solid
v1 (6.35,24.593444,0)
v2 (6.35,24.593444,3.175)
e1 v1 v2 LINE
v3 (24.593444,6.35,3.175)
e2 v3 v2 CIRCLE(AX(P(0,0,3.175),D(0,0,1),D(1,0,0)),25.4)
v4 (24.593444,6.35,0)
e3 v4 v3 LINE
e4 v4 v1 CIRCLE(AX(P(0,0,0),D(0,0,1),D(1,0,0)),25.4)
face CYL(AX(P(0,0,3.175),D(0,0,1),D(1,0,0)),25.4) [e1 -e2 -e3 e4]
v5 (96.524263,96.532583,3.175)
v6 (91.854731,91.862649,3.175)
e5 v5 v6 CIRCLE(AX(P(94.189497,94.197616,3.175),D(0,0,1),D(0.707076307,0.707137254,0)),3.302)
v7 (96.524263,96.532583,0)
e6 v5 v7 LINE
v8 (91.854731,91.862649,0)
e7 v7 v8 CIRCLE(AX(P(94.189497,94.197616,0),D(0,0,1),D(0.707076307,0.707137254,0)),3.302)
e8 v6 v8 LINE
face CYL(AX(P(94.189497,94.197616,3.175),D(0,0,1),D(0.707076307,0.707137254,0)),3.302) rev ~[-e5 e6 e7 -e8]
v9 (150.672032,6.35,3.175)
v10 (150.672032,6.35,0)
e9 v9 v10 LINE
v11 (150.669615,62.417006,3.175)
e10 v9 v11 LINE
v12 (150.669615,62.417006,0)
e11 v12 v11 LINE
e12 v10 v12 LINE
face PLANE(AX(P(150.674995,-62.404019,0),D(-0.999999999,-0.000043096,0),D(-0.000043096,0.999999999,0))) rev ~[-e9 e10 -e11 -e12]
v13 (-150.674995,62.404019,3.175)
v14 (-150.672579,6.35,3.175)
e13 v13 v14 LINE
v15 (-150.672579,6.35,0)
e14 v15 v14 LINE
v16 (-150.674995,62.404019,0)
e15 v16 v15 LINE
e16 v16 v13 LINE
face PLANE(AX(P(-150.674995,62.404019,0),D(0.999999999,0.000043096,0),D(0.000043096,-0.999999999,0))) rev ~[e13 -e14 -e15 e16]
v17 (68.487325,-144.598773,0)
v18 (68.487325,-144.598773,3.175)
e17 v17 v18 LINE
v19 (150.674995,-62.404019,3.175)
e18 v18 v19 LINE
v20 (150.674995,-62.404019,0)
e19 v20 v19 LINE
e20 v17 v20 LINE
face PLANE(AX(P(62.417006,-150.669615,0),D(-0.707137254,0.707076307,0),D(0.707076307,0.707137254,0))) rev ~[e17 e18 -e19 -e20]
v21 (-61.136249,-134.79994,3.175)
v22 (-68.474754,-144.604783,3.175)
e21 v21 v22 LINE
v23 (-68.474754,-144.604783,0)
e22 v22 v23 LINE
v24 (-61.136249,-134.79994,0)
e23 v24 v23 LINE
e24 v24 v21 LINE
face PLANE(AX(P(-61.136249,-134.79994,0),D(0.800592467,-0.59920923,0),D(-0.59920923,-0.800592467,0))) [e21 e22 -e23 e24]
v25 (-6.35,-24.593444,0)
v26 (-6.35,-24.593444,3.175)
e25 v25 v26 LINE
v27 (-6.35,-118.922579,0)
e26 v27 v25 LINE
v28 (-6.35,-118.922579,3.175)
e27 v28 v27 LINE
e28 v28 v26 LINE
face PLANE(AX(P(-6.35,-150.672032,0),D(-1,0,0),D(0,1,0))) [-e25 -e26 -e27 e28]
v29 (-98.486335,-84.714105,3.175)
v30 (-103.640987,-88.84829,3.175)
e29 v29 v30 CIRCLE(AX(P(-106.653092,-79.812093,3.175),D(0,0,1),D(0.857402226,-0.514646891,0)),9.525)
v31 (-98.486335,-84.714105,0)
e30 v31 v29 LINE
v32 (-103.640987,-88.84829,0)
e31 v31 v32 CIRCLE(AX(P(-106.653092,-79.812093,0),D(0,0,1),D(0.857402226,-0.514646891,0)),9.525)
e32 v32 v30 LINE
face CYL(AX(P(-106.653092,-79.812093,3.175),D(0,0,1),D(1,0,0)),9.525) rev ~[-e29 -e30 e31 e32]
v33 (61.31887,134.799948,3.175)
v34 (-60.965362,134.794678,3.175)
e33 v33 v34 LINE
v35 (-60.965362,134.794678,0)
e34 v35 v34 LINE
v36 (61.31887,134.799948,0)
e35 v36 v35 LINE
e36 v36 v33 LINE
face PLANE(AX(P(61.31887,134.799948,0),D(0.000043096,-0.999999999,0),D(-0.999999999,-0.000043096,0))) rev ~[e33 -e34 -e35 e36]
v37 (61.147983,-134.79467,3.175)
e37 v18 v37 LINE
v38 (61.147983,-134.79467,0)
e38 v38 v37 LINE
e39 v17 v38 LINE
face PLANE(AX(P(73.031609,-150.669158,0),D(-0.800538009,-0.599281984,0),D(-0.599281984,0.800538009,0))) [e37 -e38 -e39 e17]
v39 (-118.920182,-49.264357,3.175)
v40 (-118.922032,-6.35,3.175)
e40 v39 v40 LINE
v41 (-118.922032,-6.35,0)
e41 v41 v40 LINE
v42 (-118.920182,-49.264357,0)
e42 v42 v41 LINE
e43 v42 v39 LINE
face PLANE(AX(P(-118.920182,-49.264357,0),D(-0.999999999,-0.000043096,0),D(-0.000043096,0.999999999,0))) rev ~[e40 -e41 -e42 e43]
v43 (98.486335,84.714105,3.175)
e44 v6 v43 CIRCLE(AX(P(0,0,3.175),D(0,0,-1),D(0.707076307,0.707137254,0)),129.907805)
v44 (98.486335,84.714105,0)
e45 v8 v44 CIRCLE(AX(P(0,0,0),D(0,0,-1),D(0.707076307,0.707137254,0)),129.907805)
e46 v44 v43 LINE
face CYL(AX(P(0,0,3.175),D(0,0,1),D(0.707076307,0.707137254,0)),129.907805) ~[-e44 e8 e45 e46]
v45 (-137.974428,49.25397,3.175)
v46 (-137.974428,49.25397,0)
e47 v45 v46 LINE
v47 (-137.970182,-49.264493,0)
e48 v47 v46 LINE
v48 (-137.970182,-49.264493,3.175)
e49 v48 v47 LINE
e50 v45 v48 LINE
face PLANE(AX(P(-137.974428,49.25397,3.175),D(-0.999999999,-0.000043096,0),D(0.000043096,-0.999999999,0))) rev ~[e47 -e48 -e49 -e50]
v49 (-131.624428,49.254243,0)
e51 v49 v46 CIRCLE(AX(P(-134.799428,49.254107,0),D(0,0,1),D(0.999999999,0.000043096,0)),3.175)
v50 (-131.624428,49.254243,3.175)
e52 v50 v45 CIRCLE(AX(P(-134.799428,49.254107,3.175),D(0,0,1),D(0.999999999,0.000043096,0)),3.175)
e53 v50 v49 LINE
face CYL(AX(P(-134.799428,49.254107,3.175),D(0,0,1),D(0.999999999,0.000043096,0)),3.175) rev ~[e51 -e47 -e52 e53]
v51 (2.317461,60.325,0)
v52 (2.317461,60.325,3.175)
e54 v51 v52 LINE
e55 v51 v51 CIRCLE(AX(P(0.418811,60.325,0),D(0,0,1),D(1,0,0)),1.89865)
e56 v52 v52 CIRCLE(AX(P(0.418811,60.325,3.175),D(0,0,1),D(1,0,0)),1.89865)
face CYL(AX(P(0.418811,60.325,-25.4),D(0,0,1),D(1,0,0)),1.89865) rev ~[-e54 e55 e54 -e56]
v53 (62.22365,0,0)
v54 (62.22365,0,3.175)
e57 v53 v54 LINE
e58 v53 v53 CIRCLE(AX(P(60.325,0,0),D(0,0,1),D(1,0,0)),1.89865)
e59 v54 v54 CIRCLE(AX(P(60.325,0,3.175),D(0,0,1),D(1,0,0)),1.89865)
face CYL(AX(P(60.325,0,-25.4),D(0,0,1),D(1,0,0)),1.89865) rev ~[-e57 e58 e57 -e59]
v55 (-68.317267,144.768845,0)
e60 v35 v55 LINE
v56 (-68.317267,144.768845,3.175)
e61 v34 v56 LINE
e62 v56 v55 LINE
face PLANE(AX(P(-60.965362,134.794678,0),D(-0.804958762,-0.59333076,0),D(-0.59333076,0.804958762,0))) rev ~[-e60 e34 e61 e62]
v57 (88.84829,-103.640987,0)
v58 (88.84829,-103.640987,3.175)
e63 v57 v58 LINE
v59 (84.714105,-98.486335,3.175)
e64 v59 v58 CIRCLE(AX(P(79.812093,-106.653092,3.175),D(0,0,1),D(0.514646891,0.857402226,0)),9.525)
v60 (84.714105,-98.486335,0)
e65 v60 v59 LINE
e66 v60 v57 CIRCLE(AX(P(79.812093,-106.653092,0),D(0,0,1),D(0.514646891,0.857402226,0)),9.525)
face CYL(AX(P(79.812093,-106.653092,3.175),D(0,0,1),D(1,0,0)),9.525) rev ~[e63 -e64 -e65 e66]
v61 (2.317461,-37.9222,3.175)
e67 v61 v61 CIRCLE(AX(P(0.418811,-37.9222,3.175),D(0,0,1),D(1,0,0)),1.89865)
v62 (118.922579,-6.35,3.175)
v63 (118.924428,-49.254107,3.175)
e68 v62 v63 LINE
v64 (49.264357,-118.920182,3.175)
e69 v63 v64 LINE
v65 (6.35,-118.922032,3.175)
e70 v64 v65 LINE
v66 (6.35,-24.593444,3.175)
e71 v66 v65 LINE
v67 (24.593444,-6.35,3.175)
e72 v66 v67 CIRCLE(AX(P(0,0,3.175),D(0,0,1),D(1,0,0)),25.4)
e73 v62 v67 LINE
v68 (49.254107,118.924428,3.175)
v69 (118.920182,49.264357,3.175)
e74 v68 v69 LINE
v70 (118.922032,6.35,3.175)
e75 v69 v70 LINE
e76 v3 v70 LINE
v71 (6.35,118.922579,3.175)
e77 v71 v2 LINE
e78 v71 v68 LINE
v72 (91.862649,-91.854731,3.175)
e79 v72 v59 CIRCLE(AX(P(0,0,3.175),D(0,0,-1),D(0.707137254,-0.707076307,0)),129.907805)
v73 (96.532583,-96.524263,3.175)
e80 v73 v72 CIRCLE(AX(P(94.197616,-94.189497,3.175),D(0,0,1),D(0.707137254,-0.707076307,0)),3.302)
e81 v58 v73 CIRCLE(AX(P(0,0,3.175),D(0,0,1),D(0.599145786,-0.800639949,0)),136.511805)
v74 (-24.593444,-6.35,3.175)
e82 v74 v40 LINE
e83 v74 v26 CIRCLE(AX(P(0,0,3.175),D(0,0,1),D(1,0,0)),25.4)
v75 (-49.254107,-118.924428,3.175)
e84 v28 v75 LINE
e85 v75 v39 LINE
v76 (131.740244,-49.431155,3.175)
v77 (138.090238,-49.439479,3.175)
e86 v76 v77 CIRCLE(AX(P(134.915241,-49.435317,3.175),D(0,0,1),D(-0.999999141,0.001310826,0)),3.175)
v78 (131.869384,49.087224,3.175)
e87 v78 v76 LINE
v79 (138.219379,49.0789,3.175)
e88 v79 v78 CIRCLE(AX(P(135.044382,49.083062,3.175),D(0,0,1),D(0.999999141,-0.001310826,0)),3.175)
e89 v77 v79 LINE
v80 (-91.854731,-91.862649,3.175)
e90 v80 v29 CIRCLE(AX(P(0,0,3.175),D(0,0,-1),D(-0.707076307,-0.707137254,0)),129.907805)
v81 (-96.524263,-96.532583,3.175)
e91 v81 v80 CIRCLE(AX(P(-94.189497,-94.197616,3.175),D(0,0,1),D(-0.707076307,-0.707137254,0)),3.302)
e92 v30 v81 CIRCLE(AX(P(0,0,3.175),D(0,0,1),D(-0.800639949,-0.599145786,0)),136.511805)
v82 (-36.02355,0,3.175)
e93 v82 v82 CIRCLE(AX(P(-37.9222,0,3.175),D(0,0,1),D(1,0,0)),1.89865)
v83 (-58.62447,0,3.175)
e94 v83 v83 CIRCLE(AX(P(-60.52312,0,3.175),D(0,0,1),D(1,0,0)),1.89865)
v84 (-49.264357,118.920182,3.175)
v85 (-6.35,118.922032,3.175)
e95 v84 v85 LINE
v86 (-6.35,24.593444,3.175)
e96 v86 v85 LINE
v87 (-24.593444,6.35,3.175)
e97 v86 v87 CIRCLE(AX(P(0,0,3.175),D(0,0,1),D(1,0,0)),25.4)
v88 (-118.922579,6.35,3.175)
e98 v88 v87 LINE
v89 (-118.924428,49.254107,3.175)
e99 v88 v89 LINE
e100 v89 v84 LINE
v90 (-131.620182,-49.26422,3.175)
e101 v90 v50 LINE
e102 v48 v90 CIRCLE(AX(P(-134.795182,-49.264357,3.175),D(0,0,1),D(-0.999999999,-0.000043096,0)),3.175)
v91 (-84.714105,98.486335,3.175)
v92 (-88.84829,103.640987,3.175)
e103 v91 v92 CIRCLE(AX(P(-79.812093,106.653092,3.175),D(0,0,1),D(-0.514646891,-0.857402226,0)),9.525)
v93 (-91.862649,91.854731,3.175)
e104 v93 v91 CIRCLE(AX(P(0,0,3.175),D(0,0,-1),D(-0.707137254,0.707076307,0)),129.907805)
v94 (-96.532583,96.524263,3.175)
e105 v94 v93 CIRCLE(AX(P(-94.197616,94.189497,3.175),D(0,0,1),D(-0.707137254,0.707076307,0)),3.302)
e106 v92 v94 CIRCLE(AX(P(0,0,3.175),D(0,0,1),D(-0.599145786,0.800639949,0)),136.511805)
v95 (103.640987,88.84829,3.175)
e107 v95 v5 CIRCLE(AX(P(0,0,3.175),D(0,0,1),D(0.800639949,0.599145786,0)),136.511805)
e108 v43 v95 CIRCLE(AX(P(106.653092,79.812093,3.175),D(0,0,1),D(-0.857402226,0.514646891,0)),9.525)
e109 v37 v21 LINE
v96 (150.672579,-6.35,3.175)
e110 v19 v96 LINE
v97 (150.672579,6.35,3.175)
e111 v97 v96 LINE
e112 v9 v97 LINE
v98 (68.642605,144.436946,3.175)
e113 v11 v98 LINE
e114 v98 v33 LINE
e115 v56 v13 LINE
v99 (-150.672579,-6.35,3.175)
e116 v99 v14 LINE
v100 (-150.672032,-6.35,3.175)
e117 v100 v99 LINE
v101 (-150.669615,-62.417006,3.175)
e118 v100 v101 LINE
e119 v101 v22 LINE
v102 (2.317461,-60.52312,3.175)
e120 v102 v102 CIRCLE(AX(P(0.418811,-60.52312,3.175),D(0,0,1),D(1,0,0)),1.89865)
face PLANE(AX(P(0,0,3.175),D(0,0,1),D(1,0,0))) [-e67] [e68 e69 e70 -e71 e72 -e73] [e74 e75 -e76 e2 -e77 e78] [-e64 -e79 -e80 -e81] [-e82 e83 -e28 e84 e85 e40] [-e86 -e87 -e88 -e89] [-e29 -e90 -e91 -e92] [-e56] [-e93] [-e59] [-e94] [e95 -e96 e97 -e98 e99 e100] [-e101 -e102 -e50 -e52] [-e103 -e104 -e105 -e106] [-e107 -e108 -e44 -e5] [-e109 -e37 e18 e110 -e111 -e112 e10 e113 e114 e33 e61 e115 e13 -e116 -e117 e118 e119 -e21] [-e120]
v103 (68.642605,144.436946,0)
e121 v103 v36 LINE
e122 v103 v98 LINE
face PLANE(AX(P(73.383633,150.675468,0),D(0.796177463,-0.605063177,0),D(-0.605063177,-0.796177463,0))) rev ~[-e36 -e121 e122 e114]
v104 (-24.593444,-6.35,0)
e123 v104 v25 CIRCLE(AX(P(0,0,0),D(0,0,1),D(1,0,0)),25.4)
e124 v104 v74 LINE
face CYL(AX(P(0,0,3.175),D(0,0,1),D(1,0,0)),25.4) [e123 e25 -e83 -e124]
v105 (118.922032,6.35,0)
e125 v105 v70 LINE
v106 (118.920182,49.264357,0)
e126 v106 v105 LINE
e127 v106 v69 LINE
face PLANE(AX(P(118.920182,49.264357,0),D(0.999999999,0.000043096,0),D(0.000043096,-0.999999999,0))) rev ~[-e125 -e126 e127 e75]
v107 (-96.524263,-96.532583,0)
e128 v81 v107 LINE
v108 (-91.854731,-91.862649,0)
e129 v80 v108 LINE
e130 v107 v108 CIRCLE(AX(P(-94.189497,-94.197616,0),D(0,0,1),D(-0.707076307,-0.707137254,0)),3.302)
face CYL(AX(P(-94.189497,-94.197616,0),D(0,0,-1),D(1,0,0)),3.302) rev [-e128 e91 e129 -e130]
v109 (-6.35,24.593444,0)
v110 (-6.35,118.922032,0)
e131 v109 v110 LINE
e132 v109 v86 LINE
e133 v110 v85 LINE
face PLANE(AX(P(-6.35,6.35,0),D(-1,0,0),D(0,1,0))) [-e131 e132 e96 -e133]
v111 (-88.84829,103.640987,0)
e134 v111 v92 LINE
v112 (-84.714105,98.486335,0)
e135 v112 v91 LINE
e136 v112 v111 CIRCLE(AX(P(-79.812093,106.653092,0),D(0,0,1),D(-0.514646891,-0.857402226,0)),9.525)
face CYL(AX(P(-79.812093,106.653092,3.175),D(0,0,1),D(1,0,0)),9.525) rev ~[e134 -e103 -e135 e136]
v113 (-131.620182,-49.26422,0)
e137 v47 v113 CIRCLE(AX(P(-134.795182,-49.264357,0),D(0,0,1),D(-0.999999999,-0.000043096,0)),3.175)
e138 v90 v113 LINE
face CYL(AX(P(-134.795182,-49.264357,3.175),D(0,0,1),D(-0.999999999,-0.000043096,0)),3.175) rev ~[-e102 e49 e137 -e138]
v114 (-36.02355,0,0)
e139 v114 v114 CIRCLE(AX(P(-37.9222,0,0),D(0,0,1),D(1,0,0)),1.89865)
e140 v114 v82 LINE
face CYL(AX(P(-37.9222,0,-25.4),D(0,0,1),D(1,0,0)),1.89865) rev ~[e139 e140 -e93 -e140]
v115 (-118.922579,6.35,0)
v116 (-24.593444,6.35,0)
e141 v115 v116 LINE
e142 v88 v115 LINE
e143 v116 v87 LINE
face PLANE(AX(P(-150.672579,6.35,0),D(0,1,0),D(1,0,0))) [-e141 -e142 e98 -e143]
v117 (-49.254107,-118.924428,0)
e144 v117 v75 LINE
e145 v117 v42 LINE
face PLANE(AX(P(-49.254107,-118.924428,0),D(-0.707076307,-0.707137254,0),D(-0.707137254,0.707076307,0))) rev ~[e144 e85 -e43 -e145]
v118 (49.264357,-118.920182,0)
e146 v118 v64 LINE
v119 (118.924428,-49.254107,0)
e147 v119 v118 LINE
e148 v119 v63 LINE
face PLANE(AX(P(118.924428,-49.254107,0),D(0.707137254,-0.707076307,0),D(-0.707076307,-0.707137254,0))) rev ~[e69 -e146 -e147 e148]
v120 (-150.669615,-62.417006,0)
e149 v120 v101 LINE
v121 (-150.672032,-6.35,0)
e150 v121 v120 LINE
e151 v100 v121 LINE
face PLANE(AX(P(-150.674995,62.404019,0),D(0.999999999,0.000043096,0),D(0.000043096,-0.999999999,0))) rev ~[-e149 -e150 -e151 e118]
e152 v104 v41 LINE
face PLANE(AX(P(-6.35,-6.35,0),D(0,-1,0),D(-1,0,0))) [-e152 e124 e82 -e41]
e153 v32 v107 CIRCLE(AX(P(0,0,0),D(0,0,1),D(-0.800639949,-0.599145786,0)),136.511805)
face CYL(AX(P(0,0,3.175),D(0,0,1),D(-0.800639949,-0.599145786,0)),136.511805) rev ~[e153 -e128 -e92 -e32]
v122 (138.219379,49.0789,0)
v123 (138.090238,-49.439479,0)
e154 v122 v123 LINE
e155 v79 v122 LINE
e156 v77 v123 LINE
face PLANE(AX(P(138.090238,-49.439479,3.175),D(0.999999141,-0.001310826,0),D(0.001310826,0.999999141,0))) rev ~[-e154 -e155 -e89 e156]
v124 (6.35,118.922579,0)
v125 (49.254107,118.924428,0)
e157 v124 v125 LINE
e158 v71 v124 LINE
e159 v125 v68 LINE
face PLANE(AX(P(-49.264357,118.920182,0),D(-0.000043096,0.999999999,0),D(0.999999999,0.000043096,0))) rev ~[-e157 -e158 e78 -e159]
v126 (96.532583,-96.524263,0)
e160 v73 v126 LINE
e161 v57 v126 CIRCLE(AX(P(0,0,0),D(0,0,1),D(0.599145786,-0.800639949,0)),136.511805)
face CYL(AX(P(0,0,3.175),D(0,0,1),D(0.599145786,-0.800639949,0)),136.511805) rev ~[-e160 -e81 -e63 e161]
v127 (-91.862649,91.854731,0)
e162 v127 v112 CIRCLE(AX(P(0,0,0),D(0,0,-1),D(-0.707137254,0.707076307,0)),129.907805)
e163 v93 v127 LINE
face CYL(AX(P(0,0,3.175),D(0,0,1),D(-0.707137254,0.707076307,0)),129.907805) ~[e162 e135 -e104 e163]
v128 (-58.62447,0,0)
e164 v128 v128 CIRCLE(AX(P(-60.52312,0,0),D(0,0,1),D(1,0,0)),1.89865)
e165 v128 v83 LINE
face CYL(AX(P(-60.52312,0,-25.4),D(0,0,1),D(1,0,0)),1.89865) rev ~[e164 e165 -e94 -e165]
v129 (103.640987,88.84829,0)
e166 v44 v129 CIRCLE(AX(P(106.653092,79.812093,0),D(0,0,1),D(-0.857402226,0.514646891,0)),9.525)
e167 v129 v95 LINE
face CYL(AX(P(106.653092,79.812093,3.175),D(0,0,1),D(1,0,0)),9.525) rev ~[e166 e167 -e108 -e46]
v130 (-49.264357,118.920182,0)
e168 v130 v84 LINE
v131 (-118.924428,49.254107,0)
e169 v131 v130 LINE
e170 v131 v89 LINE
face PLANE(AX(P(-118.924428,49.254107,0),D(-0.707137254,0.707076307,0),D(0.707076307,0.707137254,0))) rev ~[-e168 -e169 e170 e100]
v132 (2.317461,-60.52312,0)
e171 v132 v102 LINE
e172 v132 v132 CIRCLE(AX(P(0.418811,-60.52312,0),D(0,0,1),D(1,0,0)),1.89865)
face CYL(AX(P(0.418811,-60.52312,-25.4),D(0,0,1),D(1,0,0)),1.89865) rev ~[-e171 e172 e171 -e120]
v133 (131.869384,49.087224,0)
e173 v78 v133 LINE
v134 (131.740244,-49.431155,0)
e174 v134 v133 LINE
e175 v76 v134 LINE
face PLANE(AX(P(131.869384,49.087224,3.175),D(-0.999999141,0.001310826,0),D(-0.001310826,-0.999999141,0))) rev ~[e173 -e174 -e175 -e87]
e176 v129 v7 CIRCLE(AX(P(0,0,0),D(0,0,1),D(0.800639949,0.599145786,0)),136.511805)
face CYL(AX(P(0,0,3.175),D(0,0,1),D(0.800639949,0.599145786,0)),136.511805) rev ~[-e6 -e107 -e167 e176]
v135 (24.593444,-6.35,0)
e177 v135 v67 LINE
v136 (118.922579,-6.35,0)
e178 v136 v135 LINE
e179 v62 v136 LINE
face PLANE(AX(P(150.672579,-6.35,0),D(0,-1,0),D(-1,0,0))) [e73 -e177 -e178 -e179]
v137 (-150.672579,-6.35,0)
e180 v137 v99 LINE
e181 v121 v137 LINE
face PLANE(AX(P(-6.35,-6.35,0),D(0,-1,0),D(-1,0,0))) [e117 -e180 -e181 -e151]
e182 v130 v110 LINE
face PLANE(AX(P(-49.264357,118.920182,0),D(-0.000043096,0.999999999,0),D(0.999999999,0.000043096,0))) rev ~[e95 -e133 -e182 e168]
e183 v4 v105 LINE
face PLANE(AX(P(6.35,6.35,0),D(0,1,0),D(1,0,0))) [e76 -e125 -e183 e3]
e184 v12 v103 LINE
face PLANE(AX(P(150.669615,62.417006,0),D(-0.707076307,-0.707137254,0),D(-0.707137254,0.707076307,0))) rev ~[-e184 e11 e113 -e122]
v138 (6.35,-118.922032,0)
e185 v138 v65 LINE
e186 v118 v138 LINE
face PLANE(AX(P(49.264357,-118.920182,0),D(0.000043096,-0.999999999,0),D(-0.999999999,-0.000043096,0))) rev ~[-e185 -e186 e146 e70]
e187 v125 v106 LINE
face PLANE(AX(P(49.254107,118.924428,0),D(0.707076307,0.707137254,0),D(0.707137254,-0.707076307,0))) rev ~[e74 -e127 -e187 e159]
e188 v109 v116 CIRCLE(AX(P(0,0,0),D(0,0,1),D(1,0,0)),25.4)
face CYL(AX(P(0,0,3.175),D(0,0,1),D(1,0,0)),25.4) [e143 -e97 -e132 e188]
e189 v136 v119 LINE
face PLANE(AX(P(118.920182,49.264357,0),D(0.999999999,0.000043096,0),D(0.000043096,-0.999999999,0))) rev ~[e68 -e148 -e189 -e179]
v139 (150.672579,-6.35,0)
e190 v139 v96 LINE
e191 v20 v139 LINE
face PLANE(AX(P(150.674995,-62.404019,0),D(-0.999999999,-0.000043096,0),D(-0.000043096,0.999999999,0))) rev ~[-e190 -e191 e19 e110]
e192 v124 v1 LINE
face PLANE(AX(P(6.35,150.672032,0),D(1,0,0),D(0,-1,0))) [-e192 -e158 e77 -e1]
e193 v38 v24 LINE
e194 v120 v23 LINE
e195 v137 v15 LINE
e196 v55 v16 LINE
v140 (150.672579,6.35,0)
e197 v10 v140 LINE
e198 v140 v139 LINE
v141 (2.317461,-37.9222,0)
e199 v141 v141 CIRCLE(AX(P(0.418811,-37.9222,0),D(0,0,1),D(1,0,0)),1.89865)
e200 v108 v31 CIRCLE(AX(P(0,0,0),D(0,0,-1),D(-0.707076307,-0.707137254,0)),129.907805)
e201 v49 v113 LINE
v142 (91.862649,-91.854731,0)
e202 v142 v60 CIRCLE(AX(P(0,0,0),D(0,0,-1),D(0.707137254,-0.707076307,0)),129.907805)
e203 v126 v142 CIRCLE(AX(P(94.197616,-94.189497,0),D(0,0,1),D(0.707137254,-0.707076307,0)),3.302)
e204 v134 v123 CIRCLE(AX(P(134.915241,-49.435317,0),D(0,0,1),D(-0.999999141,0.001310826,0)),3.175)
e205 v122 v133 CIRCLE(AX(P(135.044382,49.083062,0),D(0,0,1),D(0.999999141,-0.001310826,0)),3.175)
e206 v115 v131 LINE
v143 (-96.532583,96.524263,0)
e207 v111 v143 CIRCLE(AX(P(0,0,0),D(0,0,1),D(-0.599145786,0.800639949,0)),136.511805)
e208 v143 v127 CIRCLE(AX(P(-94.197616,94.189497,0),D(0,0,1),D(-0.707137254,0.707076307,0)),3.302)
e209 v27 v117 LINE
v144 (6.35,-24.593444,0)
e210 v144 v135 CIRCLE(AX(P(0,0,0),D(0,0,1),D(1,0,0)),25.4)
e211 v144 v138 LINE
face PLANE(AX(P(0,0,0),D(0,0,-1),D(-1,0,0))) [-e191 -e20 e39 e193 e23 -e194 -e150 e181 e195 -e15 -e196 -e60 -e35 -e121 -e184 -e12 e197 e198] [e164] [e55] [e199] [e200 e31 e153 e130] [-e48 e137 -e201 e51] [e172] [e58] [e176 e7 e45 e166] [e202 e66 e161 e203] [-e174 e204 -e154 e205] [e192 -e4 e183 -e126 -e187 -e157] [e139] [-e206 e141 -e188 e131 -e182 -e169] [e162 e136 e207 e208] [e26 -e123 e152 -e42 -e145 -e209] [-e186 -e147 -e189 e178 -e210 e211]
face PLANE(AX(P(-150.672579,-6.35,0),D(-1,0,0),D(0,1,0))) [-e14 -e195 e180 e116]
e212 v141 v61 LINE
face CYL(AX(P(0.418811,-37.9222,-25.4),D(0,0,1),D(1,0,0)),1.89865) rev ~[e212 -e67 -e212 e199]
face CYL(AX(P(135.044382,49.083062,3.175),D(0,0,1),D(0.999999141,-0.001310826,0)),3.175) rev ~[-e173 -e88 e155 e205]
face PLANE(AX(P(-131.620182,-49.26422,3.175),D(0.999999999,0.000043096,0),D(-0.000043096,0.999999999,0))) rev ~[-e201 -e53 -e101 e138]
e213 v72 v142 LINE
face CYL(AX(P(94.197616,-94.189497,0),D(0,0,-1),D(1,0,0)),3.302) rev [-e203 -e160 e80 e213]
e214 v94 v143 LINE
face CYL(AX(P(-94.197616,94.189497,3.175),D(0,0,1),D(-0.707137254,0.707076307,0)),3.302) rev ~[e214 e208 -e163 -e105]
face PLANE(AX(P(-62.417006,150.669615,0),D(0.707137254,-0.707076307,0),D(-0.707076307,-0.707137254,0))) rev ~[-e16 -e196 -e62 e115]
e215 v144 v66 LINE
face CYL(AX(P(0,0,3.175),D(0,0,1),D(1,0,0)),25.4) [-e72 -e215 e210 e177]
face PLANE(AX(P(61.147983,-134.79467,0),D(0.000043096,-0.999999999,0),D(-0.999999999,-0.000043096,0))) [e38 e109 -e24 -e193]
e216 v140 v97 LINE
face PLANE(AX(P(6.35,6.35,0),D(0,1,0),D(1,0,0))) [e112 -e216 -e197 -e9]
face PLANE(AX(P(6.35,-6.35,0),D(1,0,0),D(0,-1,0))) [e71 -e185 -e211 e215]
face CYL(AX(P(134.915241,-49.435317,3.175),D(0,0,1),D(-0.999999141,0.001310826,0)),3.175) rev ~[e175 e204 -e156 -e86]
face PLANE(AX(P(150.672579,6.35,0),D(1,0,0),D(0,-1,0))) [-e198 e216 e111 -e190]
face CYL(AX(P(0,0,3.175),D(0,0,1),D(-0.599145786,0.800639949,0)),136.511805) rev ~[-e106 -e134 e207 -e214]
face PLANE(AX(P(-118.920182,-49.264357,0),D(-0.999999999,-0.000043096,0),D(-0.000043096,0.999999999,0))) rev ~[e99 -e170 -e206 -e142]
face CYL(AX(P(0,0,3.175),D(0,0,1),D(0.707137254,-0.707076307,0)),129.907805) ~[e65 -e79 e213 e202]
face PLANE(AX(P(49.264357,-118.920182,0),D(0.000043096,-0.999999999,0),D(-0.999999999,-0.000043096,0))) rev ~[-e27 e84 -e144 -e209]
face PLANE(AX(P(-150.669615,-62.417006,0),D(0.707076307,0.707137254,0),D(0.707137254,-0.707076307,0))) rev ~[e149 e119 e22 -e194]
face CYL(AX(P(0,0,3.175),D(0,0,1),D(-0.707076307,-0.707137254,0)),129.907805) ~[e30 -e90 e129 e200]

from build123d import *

# Parameters (mm, degrees)
BOSS_EXTRUDE1_DEPTH       = 3.175
SKETCH2_R                 = 3.302
BOSS_EXTRUDE2_DEPTH       = 3.175
BOSS_EXTRUDE3_DEPTH       = 3.175
BOSS_EXTRUDE4_DEPTH       = 3.175
SKETCH10_R                = 3.302
CUT_EXTRUDE2_DEPTH        = 3.175
BOSS_EXTRUDE6_DEPTH       = 3.175
F_6_CLEARANCE_HOLE1_D     = 3.7973
F_6_CLEARANCE_HOLE1_DEPTH = 25.4
F_6_CLEARANCE_HOLE1_TIP   = 1.140824014
CUT_EXTRUDE8_DEPTH        = 4.7625
SKETCH4_R                 = 25.4
BOSS_EXTRUDE7_DEPTH       = 3.175
CUT_EXTRUDE9_DEPTH        = 3.175
SKETCH19_R                = 9.525
CUT_EXTRUDE10_DEPTH       = 3.175
CUT_EXTRUDE12_DEPTH       = 4.175


with BuildPart() as part:
    # Sketch1 → Boss-Extrude1 (new body)
    with BuildSketch(Plane.XY):
        Polygon((-150.669615327, -62.417005507), (-62.404018861, -150.674994572), (62.417005507, -150.669615327), (150.674994572, -62.404018861), (150.669615327, 62.417005507), (62.404018861, 150.674994572), (-62.417005507, 150.669615327), (-150.674994572, 62.404018861), align=None)
        Polygon((-137.969842044, -57.155945955), (-57.144053939, -137.974767879), (57.155945955, -137.969842044), (137.974767879, -57.144053939), (137.969842044, 57.155945955), (57.144053939, 137.974767879), (-57.155945955, 137.969842044), (-137.974767879, 57.144053939), align=None, mode=Mode.SUBTRACT)
    extrude(amount=BOSS_EXTRUDE1_DEPTH)

    # Sketch2 → Boss-Extrude2 (add)
    with BuildSketch(Plane.XY.offset(3.175)):
        with BuildLine():
            Line((-104.300258744, 90.821465649), (-90.83045509, 104.292430334))
            ThreePointArc((-90.83045509, 104.292430334), (-90.829874575, 90.822046164), (-104.300258744, 90.821465649))
        make_face()
        with Locations((-94.197615746, 94.189497078)):
            Circle(SKETCH2_R, mode=Mode.SUBTRACT)
        with BuildLine():
            Line((104.292430334, 90.83045509), (90.821465649, 104.300258744))
            ThreePointArc((90.821465649, 104.300258744), (90.822046164, 90.829874575), (104.292430334, 90.83045509))
        make_face()
        with Locations((94.189497078, 94.197615746)):
            Circle(SKETCH2_R, mode=Mode.SUBTRACT)
        with BuildLine():
            Line((104.300258744, -90.821465649), (90.83045509, -104.292430334))
            ThreePointArc((90.83045509, -104.292430334), (90.829874575, -90.822046164), (104.300258744, -90.821465649))
        make_face()
        with Locations((94.197615746, -94.189497078)):
            Circle(SKETCH2_R, mode=Mode.SUBTRACT)
        with BuildLine():
            Line((-104.292430334, -90.83045509), (-90.821465649, -104.300258744))
            ThreePointArc((-90.821465649, -104.300258744), (-90.822046164, -90.829874575), (-104.292430334, -90.83045509))
        make_face()
        with Locations((-94.189497078, -94.197615746)):
            Circle(SKETCH2_R, mode=Mode.SUBTRACT)
    extrude(amount=-BOSS_EXTRUDE2_DEPTH)

    # Sketch5 → Boss-Extrude3 (add)
    with BuildSketch(Plane.XY.offset(3.175)):
        with BuildLine():
            Line((137.970389359, 44.455945967), (137.969842044, 57.155945955))
            Line((137.969842044, 57.155945955), (128.989198921, 66.135815058))
            ThreePointArc((128.989198921, 66.135815058), (126.236781441, 52.295360716), (137.970389359, 44.455945967))
        make_face()
        with BuildLine():
            Line((128.994898776, -66.124697061), (137.974767879, -57.144053939))
            Line((137.974767879, -57.144053939), (137.974220564, -44.44405395))
            ThreePointArc((137.974220564, -44.44405395), (126.241288378, -52.284480005), (128.994898776, -66.124697061))
        make_face()
        with BuildLine():
            Line((-137.969842044, -57.155945955), (-137.970389359, -44.455945967))
            ThreePointArc((-137.970389359, -44.455945967), (-126.236781441, -52.295360716), (-128.989198921, -66.135815058))
            Line((-128.989198921, -66.135815058), (-137.969842044, -57.155945955))
        make_face()
        with BuildLine():
            Line((-137.974220564, 44.44405395), (-137.974767879, 57.144053939))
            Line((-137.974767879, 57.144053939), (-128.994898776, 66.124697061))
            ThreePointArc((-128.994898776, 66.124697061), (-126.241288378, 52.284480005), (-137.974220564, 44.44405395))
        make_face()
    extrude(amount=-BOSS_EXTRUDE3_DEPTH)

    # Sketch9 → Boss-Extrude4 (add)
    with BuildSketch(Plane(origin=(0, 0, 0), x_dir=(-1, 0, 0), z_dir=(0, 0, -1))):
        Polygon((-57.144053939, 137.974767879), (-137.969842044, 57.155945955), (-137.974767879, -57.144053939), (-57.155945955, -137.969842044), (57.144053939, -137.974767879), (137.969842044, -57.155945955), (137.974767879, 57.144053939), (57.155945955, 137.969842044), align=None)
        Polygon((-49.254106555, 118.924427839), (-118.92018212, 49.264356627), (-118.924427839, -49.254106555), (-49.264356627, -118.92018212), (49.254106555, -118.924427839), (118.92018212, -49.264356627), (118.924427839, 49.254106555), (49.264356627, 118.92018212), align=None, mode=Mode.SUBTRACT)
    extrude(amount=-BOSS_EXTRUDE4_DEPTH)

    # Sketch10 → Cut-Extrude2 (cut)
    with BuildSketch(Plane.XY):
        with Locations((-94.197615746, 94.189497078)):
            Circle(SKETCH10_R)
        with Locations((94.189497078, 94.197615746)):
            Circle(SKETCH10_R)
        with Locations((-94.189497078, -94.197615746)):
            Circle(SKETCH10_R)
        with Locations((94.197615746, -94.189497078)):
            Circle(SKETCH10_R)
    extrude(amount=CUT_EXTRUDE2_DEPTH, mode=Mode.SUBTRACT)

    # Sketch12 → Boss-Extrude6 (add)
    with BuildSketch(Plane(origin=(0, 0, 0), x_dir=(-1, 0, 0), z_dir=(0, 0, -1))):
        Polygon((6.35, 150.672031572), (-6.35, 150.672031572), (-6.35, 6.35), (-150.672578887, 6.35), (-150.672578887, -6.35), (-6.35, -6.35), (-6.35, -150.672031572), (6.35, -150.672031572), (6.35, -6.35), (150.672578887, -6.35), (150.672578887, 6.35), (6.35, 6.35), align=None)
    extrude(amount=-BOSS_EXTRUDE6_DEPTH)

    # #6 Clearance Hole1
    with Locations(Plane(origin=(0, 0, 0), x_dir=(-1, 0, 0), z_dir=(0, 0, -1))):
        with Locations((-0.418811464, 60.325), (-0.418811464, -37.9222), (-0.418811464, -60.52312), (37.9222, 0), (60.52312, 0), (-60.325, 0)):
            Hole(F_6_CLEARANCE_HOLE1_D / 2, depth=F_6_CLEARANCE_HOLE1_DEPTH)
            with Locations((0, 0, -(F_6_CLEARANCE_HOLE1_DEPTH + F_6_CLEARANCE_HOLE1_TIP / 2))):  # 118° drill point
                Cone(0, F_6_CLEARANCE_HOLE1_D / 2, F_6_CLEARANCE_HOLE1_TIP, mode=Mode.SUBTRACT)

    # Sketch17 → Cut-Extrude8 (cut)
    with BuildSketch(Plane(origin=(0, 0, 0), x_dir=(-1, 0, 0), z_dir=(0, 0, -1))):
        Polygon((-73.383632924, 150.675467746), (-61.318869739, 134.799947792), (60.965361784, 134.794677872), (72.666366941, 150.669173624), align=None)
        Polygon((-61.147982987, -134.794670002), (61.136248536, -134.799939922), (73.018390518, -150.675452006), (-73.031609347, -150.669157884), align=None)
    extrude(amount=-CUT_EXTRUDE8_DEPTH, mode=Mode.SUBTRACT)

    # Sketch4 → Boss-Extrude7 (add)
    with BuildSketch(Plane.XY.offset(3.175)):
        Circle(SKETCH4_R)
    extrude(amount=-BOSS_EXTRUDE7_DEPTH)

    # Sketch18 → Cut-Extrude9 (cut)
    with BuildSketch(Plane.XY.offset(3.175)):
        with BuildLine():
            ThreePointArc((109.296804613, 81.790472735), (103.174175191, 89.389946316), (96.524263045, 96.532582958))
            ThreePointArc((96.524263045, 96.532582958), (91.854529866, 96.532381713), (91.854731111, 91.862648534))
            ThreePointArc((91.854731111, 91.862648534), (98.182941997, 85.065549572), (104.009378392, 77.833713966))
            ThreePointArc((104.009378392, 77.833713966), (108.631470887, 77.16838024), (109.296804613, 81.790472735))
        make_face()
        with BuildLine():
            ThreePointArc((81.790472735, -109.296804613), (89.389946316, -103.174175191), (96.532582958, -96.524263045))
            ThreePointArc((96.532582958, -96.524263045), (96.532381713, -91.854529866), (91.862648534, -91.854731111))
            ThreePointArc((91.862648534, -91.854731111), (85.065549572, -98.182941997), (77.833713966, -104.009378392))
            ThreePointArc((77.833713966, -104.009378392), (77.16838024, -108.631470887), (81.790472735, -109.296804613))
        make_face()
        with BuildLine():
            ThreePointArc((-109.296804613, -81.790472735), (-103.174175191, -89.389946316), (-96.524263045, -96.532582958))
            ThreePointArc((-96.524263045, -96.532582958), (-91.854529866, -96.532381713), (-91.854731111, -91.862648534))
            ThreePointArc((-91.854731111, -91.862648534), (-98.182941997, -85.065549572), (-104.009378392, -77.833713966))
            ThreePointArc((-104.009378392, -77.833713966), (-108.631470887, -77.16838024), (-109.296804613, -81.790472735))
        make_face()
        with BuildLine():
            ThreePointArc((-81.790472735, 109.296804613), (-89.389946316, 103.174175191), (-96.532582958, 96.524263045))
            ThreePointArc((-96.532582958, 96.524263045), (-96.532381713, 91.854529866), (-91.862648534, 91.854731111))
            ThreePointArc((-91.862648534, 91.854731111), (-85.065549572, 98.182941997), (-77.833713966, 104.009378392))
            ThreePointArc((-77.833713966, 104.009378392), (-77.16838024, 108.631470887), (-81.790472735, 109.296804613))
        make_face()
    extrude(amount=-CUT_EXTRUDE9_DEPTH, mode=Mode.SUBTRACT)

    # Sketch19 → Cut-Extrude10 (cut)
    with BuildSketch(Plane.XY.offset(3.175)):
        with Locations((-79.81209335, 106.653091503)):
            Circle(SKETCH19_R)
        with Locations((106.653091503, 79.81209335)):
            Circle(SKETCH19_R)
        with Locations((79.81209335, -106.653091503)):
            Circle(SKETCH19_R)
        with Locations((-106.653091503, -79.81209335)):
            Circle(SKETCH19_R)
    extrude(amount=-CUT_EXTRUDE10_DEPTH, mode=Mode.SUBTRACT)

    # Sketch22 → Cut-Extrude12 (cut, through all)
    with BuildSketch(Plane.XY.offset(3.175)):
        with BuildLine():
            Line((-137.97442785, 49.253969726), (-137.970182132, -49.264493456))
            ThreePointArc((-137.970182132, -49.264493456), (-134.795045306, -52.439356624), (-131.620182138, -49.264219798))
            Line((-131.620182138, -49.264219798), (-131.624427856, 49.254243384))
            ThreePointArc((-131.624427856, 49.254243384), (-134.799564682, 52.429106552), (-137.97442785, 49.253969726))
        make_face()
        with BuildLine():
            Line((131.869384327, 49.087223722), (131.740243733, -49.431154911))
            ThreePointArc((131.740243733, -49.431154911), (134.911079132, -52.610314057), (138.090238278, -49.439478658))
            Line((138.090238278, -49.439478658), (138.219378871, 49.078899975))
            ThreePointArc((138.219378871, 49.078899975), (135.048543473, 52.258059121), (131.869384327, 49.087223722))
        make_face()
    extrude(amount=-CUT_EXTRUDE12_DEPTH, mode=Mode.SUBTRACT)


solid = part.part
